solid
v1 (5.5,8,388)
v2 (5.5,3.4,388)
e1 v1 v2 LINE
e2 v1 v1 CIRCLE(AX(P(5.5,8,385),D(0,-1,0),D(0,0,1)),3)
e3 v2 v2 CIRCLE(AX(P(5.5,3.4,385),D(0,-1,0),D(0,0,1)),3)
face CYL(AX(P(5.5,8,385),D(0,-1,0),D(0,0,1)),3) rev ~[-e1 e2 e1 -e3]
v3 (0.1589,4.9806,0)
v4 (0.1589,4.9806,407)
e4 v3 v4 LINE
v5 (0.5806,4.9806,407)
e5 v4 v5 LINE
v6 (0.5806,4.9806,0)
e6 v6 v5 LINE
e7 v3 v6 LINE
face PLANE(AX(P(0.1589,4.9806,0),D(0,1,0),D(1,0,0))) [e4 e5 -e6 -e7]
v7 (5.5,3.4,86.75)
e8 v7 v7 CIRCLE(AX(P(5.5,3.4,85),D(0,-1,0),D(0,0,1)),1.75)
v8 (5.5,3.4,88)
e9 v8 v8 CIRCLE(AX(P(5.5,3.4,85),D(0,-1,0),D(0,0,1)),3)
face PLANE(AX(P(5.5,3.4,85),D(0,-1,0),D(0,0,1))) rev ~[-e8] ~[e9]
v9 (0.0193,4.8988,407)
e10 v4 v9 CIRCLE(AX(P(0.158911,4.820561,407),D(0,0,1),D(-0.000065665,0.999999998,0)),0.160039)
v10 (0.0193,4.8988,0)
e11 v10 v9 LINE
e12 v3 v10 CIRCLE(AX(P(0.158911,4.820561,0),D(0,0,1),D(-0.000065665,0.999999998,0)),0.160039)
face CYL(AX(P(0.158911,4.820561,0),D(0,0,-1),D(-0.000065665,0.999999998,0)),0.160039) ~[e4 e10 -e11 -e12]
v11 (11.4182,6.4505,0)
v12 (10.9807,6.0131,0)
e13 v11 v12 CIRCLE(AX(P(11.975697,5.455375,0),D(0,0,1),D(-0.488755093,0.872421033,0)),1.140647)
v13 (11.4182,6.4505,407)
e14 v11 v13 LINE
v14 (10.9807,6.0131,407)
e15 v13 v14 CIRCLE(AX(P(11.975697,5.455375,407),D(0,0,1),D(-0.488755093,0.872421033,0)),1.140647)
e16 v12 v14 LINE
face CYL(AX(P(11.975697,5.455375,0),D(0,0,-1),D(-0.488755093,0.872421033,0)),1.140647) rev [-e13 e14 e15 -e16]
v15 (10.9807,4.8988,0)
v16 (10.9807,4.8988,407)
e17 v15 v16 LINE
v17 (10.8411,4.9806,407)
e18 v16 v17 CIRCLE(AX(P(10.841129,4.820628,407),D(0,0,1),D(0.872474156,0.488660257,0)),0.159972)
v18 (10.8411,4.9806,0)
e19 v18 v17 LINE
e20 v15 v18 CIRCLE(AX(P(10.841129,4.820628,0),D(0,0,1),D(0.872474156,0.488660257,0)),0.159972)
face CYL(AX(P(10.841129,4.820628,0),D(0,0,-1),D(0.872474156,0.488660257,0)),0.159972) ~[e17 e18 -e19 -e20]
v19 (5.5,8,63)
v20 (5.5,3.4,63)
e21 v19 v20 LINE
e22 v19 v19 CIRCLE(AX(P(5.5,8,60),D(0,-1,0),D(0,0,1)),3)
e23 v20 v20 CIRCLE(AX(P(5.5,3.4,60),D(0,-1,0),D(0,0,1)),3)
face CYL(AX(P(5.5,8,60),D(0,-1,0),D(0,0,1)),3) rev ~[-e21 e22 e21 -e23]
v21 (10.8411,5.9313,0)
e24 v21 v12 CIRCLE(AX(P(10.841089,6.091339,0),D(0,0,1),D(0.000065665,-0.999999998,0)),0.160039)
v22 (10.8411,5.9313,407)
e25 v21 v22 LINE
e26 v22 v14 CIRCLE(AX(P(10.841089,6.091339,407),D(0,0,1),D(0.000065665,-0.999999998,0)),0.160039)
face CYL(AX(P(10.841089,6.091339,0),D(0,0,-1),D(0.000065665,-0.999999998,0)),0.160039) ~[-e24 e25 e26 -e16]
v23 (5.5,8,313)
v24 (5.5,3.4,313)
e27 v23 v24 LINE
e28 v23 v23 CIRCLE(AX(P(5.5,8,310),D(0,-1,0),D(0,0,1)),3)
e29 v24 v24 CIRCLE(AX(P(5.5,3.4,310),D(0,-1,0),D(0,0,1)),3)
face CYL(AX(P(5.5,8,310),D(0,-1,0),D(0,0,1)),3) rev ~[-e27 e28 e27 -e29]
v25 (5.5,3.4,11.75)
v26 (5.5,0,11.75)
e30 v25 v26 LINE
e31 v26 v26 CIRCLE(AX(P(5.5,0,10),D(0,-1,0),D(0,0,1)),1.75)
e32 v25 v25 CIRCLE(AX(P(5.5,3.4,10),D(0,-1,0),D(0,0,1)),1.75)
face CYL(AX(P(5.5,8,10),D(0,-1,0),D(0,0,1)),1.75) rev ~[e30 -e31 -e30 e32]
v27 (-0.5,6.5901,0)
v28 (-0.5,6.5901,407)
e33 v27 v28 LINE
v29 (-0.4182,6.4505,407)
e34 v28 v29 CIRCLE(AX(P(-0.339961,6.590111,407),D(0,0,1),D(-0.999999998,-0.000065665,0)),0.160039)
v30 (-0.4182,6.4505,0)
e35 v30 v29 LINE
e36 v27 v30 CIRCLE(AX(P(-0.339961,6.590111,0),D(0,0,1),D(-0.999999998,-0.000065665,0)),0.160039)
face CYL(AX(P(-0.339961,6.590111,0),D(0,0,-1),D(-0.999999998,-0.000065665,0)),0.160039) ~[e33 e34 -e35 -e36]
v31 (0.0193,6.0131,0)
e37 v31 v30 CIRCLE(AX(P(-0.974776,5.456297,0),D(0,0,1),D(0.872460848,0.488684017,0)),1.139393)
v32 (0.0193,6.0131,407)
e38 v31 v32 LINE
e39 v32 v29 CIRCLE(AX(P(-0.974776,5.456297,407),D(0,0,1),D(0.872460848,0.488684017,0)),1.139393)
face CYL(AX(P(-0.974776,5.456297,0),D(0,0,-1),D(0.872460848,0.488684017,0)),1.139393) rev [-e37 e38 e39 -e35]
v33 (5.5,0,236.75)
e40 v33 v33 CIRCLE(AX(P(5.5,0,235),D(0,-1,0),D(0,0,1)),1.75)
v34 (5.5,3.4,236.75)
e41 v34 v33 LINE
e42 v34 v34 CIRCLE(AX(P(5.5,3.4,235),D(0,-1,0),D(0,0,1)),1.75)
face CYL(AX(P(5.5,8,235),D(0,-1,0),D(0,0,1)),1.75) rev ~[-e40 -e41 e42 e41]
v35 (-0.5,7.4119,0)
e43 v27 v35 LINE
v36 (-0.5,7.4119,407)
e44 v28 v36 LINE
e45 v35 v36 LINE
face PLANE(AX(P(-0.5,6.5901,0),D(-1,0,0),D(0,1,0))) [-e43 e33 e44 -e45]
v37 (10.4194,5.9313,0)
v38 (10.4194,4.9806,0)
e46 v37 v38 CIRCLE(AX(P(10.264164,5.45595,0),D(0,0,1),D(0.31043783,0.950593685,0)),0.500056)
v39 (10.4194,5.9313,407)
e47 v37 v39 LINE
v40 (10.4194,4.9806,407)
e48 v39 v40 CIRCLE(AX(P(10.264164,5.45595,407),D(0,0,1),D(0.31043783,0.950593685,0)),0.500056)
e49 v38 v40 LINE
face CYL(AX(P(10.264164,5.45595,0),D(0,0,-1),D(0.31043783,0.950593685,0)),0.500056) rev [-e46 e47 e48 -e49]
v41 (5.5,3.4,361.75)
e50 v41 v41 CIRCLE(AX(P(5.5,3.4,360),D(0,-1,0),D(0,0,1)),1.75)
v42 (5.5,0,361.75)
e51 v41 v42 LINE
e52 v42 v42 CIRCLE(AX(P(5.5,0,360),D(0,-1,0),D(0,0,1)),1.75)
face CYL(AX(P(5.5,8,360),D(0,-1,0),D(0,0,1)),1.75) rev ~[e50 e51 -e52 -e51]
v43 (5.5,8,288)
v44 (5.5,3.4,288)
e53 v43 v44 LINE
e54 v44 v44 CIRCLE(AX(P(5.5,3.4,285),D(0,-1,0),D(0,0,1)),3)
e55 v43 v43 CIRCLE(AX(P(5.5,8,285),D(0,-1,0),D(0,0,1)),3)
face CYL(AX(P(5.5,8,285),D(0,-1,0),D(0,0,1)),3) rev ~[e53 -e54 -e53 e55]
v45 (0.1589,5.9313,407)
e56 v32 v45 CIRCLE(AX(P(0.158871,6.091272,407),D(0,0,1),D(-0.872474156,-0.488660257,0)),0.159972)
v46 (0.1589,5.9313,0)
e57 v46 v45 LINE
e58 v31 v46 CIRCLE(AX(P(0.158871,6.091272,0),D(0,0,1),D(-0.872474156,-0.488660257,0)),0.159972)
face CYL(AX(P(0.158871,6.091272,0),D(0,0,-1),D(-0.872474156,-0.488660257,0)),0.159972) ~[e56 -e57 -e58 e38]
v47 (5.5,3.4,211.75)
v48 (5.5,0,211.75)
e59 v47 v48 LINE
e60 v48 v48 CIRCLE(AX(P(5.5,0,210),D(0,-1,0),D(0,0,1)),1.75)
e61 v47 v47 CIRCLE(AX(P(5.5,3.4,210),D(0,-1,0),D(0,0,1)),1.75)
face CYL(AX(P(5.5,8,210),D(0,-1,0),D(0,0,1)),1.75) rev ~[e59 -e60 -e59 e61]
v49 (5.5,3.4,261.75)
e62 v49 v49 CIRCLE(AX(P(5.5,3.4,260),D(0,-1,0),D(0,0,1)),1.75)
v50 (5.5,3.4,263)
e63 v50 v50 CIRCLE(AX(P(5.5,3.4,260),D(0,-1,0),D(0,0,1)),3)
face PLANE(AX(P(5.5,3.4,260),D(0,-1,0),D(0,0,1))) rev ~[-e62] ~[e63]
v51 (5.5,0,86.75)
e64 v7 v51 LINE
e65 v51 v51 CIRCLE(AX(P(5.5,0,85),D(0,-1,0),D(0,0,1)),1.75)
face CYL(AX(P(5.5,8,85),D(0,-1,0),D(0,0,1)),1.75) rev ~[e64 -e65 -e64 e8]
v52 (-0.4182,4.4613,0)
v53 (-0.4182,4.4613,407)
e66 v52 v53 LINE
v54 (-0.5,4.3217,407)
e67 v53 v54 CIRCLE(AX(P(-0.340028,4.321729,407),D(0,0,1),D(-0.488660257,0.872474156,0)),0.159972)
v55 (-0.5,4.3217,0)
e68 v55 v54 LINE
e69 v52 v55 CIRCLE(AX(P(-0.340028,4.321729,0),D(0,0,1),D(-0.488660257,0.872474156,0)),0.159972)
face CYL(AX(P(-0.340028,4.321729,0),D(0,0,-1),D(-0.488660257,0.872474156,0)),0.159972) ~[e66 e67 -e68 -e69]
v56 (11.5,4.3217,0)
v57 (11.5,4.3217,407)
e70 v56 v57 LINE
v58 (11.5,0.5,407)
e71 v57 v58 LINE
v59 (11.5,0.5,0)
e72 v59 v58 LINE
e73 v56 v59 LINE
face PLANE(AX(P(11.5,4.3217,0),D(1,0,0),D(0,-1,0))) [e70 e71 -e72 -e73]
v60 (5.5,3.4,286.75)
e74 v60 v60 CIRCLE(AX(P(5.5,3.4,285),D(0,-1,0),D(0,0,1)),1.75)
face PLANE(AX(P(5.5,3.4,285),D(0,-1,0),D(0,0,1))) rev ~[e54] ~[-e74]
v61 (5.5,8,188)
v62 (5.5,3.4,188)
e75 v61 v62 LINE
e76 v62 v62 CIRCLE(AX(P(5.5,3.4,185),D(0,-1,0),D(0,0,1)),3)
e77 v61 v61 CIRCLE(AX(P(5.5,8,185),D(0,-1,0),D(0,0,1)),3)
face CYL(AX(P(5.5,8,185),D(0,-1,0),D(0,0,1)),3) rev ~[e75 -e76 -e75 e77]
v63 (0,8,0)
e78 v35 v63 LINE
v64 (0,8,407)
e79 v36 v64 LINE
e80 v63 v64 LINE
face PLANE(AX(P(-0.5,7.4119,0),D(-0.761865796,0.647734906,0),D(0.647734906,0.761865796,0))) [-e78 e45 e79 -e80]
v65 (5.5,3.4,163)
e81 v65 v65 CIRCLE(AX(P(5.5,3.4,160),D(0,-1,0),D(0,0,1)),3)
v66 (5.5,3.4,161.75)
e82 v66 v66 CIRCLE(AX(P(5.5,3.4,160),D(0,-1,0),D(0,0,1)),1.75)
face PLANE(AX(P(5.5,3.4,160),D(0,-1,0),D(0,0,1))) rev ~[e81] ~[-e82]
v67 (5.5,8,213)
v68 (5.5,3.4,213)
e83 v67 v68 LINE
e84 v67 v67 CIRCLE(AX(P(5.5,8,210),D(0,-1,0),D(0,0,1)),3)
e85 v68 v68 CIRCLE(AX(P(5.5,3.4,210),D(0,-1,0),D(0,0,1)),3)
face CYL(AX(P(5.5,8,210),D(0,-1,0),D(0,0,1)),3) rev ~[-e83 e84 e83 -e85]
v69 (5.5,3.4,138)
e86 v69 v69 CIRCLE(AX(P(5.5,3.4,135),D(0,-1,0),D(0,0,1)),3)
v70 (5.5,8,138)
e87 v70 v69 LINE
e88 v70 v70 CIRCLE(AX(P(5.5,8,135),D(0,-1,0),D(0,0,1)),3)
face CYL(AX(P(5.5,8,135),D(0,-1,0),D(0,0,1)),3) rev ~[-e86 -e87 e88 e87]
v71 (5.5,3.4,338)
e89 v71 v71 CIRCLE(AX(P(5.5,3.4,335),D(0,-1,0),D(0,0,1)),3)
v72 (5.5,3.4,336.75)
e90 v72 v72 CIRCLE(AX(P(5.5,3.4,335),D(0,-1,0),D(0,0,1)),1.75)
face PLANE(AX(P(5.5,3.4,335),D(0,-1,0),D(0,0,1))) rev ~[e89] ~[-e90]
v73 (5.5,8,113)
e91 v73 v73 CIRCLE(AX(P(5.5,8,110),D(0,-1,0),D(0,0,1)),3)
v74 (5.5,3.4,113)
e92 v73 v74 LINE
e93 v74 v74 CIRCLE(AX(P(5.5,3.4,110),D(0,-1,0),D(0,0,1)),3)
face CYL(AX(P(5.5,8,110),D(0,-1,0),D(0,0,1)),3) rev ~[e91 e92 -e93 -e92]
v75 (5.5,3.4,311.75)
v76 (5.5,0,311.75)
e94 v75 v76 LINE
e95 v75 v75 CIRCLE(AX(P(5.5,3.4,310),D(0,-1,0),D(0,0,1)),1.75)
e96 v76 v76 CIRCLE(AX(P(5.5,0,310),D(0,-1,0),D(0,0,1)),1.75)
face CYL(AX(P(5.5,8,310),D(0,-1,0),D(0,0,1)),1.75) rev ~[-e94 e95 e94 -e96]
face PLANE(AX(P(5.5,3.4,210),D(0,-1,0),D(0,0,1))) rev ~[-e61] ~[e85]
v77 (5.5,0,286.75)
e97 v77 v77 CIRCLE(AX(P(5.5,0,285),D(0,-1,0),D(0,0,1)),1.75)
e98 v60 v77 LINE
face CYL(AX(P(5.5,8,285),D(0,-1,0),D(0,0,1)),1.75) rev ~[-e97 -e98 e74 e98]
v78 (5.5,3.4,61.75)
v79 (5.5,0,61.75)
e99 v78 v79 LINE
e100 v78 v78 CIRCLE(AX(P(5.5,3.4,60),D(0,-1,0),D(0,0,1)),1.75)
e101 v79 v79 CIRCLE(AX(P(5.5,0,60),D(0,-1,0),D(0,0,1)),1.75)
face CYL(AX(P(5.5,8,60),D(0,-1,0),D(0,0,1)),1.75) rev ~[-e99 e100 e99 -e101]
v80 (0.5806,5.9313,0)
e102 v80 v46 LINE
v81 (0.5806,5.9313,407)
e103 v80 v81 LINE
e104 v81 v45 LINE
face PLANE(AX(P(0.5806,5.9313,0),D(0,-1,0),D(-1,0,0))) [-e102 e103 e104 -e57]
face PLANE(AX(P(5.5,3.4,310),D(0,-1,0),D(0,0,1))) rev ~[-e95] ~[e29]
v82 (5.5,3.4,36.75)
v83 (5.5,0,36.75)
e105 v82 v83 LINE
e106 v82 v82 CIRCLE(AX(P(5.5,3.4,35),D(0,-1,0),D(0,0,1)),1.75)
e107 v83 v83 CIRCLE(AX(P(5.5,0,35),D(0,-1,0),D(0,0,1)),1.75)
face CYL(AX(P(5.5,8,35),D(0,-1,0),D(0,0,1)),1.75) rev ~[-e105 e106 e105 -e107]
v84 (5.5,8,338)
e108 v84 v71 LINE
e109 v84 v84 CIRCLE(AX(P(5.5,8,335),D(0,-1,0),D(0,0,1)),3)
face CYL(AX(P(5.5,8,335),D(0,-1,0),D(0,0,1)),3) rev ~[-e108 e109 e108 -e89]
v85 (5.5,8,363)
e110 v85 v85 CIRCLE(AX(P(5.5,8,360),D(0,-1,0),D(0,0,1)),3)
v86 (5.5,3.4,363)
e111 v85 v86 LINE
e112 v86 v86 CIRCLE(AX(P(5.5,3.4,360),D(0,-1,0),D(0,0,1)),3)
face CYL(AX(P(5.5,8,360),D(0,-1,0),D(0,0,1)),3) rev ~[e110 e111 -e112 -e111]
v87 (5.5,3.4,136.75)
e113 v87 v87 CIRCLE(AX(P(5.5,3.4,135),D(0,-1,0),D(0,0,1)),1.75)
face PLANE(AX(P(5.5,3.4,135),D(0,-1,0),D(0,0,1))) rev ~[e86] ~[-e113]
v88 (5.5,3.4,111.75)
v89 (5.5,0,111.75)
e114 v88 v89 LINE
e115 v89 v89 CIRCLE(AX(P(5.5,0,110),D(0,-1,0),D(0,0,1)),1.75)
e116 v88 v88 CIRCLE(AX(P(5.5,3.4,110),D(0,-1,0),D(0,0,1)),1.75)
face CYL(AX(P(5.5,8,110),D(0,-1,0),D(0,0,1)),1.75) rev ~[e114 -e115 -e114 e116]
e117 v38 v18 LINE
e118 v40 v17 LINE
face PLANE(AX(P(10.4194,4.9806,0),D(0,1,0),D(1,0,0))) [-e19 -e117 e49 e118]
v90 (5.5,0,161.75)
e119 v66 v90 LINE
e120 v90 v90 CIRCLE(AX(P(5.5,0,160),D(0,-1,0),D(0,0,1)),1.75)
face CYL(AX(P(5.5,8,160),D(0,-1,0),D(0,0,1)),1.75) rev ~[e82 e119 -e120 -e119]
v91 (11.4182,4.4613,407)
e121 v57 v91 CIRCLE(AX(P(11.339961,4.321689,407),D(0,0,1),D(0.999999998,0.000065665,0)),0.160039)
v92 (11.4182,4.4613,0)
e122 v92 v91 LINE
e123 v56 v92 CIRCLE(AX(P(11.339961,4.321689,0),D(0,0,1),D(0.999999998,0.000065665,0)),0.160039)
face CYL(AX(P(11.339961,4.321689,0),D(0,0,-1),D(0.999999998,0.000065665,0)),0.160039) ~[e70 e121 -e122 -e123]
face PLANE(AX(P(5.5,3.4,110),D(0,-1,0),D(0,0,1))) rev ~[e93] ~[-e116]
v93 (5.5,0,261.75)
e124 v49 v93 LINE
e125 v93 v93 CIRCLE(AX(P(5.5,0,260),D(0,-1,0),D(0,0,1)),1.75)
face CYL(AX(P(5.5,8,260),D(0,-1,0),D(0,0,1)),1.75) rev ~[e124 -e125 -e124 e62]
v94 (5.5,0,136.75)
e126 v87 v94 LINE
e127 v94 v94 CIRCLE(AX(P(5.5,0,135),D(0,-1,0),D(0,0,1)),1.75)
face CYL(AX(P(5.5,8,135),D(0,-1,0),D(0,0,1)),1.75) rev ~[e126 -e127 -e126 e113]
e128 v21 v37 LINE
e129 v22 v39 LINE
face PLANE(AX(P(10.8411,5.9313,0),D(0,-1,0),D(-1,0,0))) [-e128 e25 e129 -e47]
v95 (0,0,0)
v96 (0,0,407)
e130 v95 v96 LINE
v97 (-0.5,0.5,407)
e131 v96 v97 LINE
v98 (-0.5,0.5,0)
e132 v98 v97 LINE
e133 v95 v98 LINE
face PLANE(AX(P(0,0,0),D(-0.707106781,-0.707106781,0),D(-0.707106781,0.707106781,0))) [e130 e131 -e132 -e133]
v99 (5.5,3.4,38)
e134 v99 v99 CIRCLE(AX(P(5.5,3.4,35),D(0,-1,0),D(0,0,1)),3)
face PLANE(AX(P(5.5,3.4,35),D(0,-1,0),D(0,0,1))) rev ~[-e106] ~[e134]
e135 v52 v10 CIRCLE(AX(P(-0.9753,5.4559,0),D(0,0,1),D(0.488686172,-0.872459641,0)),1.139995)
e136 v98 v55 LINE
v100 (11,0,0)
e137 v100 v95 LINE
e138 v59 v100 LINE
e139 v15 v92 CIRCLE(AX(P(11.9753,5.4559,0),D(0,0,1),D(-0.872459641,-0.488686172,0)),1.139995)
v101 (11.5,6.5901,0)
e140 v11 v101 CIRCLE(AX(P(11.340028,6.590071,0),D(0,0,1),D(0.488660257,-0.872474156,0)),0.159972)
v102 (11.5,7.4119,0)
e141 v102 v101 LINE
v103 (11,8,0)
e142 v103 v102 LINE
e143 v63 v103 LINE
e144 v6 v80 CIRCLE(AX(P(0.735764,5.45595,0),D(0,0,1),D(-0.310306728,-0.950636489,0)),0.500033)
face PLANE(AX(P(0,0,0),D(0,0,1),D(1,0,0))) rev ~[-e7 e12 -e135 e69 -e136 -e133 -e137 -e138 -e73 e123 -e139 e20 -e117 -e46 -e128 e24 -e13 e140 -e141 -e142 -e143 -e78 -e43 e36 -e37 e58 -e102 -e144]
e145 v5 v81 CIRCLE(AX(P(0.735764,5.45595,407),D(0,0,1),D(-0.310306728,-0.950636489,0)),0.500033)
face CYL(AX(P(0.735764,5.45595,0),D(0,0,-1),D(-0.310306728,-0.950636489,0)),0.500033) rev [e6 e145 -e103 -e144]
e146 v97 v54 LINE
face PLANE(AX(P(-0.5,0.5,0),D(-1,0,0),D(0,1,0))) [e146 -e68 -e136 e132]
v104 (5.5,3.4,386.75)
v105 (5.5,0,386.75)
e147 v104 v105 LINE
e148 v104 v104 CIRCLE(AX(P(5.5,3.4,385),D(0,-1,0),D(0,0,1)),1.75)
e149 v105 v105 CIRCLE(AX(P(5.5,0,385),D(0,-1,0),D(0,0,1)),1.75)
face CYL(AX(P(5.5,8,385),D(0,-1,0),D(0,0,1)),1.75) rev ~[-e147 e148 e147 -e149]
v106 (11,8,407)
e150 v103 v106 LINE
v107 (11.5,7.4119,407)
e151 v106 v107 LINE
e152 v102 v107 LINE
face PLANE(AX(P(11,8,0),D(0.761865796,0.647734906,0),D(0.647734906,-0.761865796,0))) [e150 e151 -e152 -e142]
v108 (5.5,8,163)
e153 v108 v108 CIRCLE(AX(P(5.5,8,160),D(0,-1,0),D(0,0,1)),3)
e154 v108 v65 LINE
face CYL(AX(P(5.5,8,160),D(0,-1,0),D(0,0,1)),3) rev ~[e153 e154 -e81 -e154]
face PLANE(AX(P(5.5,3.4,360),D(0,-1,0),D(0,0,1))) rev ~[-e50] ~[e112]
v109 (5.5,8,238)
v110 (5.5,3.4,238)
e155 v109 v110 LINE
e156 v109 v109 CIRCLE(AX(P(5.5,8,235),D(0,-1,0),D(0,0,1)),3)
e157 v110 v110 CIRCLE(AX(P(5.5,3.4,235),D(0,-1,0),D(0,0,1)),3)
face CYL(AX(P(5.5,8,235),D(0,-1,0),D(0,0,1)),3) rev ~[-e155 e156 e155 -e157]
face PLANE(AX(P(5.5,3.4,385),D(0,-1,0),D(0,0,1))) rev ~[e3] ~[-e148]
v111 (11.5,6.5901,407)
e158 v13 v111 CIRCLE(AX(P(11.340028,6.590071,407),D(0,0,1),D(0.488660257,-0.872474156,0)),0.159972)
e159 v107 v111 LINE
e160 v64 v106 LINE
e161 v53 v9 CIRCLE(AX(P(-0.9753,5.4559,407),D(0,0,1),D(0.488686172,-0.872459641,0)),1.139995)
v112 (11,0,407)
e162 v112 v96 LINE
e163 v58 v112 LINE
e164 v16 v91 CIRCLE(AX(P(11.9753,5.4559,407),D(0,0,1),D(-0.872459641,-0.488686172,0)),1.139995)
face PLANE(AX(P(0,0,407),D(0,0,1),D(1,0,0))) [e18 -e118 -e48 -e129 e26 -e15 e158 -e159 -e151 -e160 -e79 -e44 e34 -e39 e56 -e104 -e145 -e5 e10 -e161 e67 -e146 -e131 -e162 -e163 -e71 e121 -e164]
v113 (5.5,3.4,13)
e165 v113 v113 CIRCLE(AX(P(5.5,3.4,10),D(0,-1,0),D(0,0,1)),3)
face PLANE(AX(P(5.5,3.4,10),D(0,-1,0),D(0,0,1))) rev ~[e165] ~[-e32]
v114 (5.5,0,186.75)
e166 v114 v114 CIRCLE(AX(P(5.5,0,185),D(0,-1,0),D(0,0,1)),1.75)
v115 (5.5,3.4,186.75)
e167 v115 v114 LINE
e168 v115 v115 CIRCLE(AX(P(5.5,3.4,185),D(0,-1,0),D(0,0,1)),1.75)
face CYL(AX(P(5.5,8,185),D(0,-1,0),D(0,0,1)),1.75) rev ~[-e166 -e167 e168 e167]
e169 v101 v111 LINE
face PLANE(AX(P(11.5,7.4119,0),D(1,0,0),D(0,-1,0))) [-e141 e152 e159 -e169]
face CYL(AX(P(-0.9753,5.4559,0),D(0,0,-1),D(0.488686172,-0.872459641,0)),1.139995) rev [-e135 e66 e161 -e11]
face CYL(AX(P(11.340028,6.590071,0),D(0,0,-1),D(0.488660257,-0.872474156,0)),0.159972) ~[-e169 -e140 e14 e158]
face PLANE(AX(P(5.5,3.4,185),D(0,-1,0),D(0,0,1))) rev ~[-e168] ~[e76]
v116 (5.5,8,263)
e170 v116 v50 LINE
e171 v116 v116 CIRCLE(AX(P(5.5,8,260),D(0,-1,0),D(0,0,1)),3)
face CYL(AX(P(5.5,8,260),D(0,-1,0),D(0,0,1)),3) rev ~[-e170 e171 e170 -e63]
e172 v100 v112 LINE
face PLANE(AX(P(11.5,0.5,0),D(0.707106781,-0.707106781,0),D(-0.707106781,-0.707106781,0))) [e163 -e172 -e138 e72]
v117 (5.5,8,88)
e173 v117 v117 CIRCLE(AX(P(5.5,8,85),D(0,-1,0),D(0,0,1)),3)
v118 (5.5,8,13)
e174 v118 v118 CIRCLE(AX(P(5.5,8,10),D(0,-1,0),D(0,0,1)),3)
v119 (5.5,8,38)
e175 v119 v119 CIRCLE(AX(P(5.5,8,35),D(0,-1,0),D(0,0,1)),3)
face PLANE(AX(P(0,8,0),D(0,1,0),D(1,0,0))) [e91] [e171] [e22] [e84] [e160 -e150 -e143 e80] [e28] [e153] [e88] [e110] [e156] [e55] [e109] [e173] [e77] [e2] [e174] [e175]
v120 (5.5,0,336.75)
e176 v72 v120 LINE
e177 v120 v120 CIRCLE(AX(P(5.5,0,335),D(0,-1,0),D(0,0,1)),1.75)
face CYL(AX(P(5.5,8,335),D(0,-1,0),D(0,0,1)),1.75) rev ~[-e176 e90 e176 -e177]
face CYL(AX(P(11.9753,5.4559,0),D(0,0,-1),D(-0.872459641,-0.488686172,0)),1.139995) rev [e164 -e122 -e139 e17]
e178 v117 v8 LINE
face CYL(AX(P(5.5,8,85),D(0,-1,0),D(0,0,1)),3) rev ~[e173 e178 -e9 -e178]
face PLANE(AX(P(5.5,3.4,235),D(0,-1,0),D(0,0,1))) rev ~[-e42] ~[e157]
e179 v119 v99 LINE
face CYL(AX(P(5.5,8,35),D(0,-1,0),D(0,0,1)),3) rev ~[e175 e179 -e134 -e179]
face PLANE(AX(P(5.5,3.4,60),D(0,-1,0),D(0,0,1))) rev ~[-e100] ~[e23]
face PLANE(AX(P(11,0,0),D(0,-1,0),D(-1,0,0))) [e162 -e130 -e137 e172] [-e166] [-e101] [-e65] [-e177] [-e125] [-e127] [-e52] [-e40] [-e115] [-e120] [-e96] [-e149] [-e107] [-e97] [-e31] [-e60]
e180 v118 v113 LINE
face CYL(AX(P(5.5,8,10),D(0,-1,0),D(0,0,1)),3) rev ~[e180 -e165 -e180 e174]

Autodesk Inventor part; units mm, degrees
ref_plane "YZ Plane" through (0, 0, 0) normal (1, 0, 0) x (0, 1, 0)
ref_plane "XZ Plane" through (0, 0, 0) normal (0, 1, 0) x (-1, 0, 0)
ref_plane "XY Plane" through (0, 0, 0) normal (0, 0, 1) x (1, 0, 0)
sketch "Szkic1" plane through (0, 0, 0) normal (0, 0, 1) x (1, 0, 0)
  line L0 (-0.5, 7.4119) -> (0, 8)
  line L1 (-0.5, 6.5901) -> (-0.5, 7.4119)
  arc A0 (0.0193, 6.0131) -> (-0.4182, 6.4505) centre (-0.9753, 5.4559) ccw
  arc A1 (-0.5, 6.5901) -> (-0.4182, 6.4505) centre (-0.34, 6.5901) ccw
  arc A2 (0.0193, 6.0131) -> (0.1589, 5.9313) centre (0.1589, 6.0913) ccw
  line L2 (0.5806, 5.9313) -> (0.1589, 5.9313)
  arc A3 (0.5806, 4.9806) -> (0.5806, 5.9313) centre (0.7358, 5.4559) ccw
  line L3 (0.1589, 4.9806) -> (0.5806, 4.9806)
  arc A4 (-0.4182, 4.4613) -> (0.0193, 4.8988) centre (-0.9753, 5.4559) ccw
  arc A5 (0.1589, 4.9806) -> (0.0193, 4.8988) centre (0.1589, 4.8206) ccw
  arc A6 (-0.4182, 4.4613) -> (-0.5, 4.3217) centre (-0.34, 4.3217) ccw
  line L4 (-0.5, 0.5) -> (-0.5, 4.3217)
  line L5 (0, 0) -> (-0.5, 0.5)
  line L6 (11, 0) -> (0, 0)
  line L7 (11.5, 0.5) -> (11, 0)
  line L8 (11.5, 4.3217) -> (11.5, 0.5)
  arc A7 (11.5, 4.3217) -> (11.4182, 4.4613) centre (11.34, 4.3217) ccw
  arc A8 (10.9807, 4.8988) -> (11.4182, 4.4613) centre (11.9753, 5.4559) ccw
  arc A9 (10.9807, 4.8988) -> (10.8411, 4.9806) centre (10.8411, 4.8206) ccw
  line L9 (10.4194, 4.9806) -> (10.8411, 4.9806)
  arc A10 (10.4194, 5.9313) -> (10.4194, 4.9806) centre (10.2642, 5.4559) ccw
  line L10 (10.8411, 5.9313) -> (10.4194, 5.9313)
  arc A11 (10.8411, 5.9313) -> (10.9807, 6.0131) centre (10.8411, 6.0913) ccw
  arc A12 (11.4182, 6.4505) -> (10.9807, 6.0131) centre (11.9753, 5.4559) ccw
  line L11 (11.5, 7.4119) -> (11.5, 6.5901)
  arc A13 (11.4182, 6.4505) -> (11.5, 6.5901) centre (11.34, 6.5901) ccw
  line L12 (11, 8) -> (11.5, 7.4119)
  line L13 (0, 8) -> (11, 8)
extrude "Wyciągnięcie proste1" add sketch "Szkic1" along normal blind 407
sketch "Szkic2" plane through (0, 8, 0) normal (0, 1, 0) x (1, 0, 0)
  line L0 (11, 0) -> (11, -407) projected
  line L1 (0, 0) -> (0, -407) projected
  line L2 (0, 0) -> (11, 0) projected
  line L3 (0, 0) -> (0, -407) projected
  line L4 (11, -407) -> (0, -407) projected
  line L5 (11, 0) -> (11, -407) projected
  point P0 (5.5, -10)
  point P1 (5.5, -35)
  point P2 (5.5, -60)
  point P3 (5.5, -85)
  point P4 (5.5, -110)
  point P5 (5.5, -135)
  point P6 (5.5, -160)
  point P7 (5.5, -185)
  point P8 (5.5, -210)
  point P9 (5.5, -235)
  point P10 (5.5, -260)
  point P11 (5.5, -285)
  point P12 (5.5, -310)
  point P13 (5.5, -335)
  point P14 (5.5, -360)
  point P15 (5.5, -385)
  dimension "d2" = 11
  dimension "d3" = 5.5
  dimension "d4" = 10
  dimension "d7" = 25
hole "Otwór1" at (5.5, 8, 10) at (5.5, 8, 35) at (5.5, 8, 60) at (5.5, 8, 85) at (5.5, 8, 110) at (5.5, 8, 135) at (5.5, 8, 160) at (5.5, 8, 185) at (5.5, 8, 210) at (5.5, 8, 235) at (5.5, 8, 260) at (5.5, 8, 285) at (5.5, 8, 310) at (5.5, 8, 335) at (5.5, 8, 360) at (5.5, 8, 385) direction (0, -1, 0) diameter 3.5 end through all
hole "Otwór2" at (5.5, 8, 210) at (5.5, 8, 385) at (5.5, 8, 360) at (5.5, 8, 335) at (5.5, 8, 310) at (5.5, 8, 285) at (5.5, 8, 260) at (5.5, 8, 235) at (5.5, 8, 185) at (5.5, 8, 160) at (5.5, 8, 135) at (5.5, 8, 110) at (5.5, 8, 85) at (5.5, 8, 60) at (5.5, 8, 35) at (5.5, 8, 10) direction (0, -1, 0) diameter 6 depth 4.6
properties part number "COTS_HIWIN_MGN12_RAIL_407mm"
